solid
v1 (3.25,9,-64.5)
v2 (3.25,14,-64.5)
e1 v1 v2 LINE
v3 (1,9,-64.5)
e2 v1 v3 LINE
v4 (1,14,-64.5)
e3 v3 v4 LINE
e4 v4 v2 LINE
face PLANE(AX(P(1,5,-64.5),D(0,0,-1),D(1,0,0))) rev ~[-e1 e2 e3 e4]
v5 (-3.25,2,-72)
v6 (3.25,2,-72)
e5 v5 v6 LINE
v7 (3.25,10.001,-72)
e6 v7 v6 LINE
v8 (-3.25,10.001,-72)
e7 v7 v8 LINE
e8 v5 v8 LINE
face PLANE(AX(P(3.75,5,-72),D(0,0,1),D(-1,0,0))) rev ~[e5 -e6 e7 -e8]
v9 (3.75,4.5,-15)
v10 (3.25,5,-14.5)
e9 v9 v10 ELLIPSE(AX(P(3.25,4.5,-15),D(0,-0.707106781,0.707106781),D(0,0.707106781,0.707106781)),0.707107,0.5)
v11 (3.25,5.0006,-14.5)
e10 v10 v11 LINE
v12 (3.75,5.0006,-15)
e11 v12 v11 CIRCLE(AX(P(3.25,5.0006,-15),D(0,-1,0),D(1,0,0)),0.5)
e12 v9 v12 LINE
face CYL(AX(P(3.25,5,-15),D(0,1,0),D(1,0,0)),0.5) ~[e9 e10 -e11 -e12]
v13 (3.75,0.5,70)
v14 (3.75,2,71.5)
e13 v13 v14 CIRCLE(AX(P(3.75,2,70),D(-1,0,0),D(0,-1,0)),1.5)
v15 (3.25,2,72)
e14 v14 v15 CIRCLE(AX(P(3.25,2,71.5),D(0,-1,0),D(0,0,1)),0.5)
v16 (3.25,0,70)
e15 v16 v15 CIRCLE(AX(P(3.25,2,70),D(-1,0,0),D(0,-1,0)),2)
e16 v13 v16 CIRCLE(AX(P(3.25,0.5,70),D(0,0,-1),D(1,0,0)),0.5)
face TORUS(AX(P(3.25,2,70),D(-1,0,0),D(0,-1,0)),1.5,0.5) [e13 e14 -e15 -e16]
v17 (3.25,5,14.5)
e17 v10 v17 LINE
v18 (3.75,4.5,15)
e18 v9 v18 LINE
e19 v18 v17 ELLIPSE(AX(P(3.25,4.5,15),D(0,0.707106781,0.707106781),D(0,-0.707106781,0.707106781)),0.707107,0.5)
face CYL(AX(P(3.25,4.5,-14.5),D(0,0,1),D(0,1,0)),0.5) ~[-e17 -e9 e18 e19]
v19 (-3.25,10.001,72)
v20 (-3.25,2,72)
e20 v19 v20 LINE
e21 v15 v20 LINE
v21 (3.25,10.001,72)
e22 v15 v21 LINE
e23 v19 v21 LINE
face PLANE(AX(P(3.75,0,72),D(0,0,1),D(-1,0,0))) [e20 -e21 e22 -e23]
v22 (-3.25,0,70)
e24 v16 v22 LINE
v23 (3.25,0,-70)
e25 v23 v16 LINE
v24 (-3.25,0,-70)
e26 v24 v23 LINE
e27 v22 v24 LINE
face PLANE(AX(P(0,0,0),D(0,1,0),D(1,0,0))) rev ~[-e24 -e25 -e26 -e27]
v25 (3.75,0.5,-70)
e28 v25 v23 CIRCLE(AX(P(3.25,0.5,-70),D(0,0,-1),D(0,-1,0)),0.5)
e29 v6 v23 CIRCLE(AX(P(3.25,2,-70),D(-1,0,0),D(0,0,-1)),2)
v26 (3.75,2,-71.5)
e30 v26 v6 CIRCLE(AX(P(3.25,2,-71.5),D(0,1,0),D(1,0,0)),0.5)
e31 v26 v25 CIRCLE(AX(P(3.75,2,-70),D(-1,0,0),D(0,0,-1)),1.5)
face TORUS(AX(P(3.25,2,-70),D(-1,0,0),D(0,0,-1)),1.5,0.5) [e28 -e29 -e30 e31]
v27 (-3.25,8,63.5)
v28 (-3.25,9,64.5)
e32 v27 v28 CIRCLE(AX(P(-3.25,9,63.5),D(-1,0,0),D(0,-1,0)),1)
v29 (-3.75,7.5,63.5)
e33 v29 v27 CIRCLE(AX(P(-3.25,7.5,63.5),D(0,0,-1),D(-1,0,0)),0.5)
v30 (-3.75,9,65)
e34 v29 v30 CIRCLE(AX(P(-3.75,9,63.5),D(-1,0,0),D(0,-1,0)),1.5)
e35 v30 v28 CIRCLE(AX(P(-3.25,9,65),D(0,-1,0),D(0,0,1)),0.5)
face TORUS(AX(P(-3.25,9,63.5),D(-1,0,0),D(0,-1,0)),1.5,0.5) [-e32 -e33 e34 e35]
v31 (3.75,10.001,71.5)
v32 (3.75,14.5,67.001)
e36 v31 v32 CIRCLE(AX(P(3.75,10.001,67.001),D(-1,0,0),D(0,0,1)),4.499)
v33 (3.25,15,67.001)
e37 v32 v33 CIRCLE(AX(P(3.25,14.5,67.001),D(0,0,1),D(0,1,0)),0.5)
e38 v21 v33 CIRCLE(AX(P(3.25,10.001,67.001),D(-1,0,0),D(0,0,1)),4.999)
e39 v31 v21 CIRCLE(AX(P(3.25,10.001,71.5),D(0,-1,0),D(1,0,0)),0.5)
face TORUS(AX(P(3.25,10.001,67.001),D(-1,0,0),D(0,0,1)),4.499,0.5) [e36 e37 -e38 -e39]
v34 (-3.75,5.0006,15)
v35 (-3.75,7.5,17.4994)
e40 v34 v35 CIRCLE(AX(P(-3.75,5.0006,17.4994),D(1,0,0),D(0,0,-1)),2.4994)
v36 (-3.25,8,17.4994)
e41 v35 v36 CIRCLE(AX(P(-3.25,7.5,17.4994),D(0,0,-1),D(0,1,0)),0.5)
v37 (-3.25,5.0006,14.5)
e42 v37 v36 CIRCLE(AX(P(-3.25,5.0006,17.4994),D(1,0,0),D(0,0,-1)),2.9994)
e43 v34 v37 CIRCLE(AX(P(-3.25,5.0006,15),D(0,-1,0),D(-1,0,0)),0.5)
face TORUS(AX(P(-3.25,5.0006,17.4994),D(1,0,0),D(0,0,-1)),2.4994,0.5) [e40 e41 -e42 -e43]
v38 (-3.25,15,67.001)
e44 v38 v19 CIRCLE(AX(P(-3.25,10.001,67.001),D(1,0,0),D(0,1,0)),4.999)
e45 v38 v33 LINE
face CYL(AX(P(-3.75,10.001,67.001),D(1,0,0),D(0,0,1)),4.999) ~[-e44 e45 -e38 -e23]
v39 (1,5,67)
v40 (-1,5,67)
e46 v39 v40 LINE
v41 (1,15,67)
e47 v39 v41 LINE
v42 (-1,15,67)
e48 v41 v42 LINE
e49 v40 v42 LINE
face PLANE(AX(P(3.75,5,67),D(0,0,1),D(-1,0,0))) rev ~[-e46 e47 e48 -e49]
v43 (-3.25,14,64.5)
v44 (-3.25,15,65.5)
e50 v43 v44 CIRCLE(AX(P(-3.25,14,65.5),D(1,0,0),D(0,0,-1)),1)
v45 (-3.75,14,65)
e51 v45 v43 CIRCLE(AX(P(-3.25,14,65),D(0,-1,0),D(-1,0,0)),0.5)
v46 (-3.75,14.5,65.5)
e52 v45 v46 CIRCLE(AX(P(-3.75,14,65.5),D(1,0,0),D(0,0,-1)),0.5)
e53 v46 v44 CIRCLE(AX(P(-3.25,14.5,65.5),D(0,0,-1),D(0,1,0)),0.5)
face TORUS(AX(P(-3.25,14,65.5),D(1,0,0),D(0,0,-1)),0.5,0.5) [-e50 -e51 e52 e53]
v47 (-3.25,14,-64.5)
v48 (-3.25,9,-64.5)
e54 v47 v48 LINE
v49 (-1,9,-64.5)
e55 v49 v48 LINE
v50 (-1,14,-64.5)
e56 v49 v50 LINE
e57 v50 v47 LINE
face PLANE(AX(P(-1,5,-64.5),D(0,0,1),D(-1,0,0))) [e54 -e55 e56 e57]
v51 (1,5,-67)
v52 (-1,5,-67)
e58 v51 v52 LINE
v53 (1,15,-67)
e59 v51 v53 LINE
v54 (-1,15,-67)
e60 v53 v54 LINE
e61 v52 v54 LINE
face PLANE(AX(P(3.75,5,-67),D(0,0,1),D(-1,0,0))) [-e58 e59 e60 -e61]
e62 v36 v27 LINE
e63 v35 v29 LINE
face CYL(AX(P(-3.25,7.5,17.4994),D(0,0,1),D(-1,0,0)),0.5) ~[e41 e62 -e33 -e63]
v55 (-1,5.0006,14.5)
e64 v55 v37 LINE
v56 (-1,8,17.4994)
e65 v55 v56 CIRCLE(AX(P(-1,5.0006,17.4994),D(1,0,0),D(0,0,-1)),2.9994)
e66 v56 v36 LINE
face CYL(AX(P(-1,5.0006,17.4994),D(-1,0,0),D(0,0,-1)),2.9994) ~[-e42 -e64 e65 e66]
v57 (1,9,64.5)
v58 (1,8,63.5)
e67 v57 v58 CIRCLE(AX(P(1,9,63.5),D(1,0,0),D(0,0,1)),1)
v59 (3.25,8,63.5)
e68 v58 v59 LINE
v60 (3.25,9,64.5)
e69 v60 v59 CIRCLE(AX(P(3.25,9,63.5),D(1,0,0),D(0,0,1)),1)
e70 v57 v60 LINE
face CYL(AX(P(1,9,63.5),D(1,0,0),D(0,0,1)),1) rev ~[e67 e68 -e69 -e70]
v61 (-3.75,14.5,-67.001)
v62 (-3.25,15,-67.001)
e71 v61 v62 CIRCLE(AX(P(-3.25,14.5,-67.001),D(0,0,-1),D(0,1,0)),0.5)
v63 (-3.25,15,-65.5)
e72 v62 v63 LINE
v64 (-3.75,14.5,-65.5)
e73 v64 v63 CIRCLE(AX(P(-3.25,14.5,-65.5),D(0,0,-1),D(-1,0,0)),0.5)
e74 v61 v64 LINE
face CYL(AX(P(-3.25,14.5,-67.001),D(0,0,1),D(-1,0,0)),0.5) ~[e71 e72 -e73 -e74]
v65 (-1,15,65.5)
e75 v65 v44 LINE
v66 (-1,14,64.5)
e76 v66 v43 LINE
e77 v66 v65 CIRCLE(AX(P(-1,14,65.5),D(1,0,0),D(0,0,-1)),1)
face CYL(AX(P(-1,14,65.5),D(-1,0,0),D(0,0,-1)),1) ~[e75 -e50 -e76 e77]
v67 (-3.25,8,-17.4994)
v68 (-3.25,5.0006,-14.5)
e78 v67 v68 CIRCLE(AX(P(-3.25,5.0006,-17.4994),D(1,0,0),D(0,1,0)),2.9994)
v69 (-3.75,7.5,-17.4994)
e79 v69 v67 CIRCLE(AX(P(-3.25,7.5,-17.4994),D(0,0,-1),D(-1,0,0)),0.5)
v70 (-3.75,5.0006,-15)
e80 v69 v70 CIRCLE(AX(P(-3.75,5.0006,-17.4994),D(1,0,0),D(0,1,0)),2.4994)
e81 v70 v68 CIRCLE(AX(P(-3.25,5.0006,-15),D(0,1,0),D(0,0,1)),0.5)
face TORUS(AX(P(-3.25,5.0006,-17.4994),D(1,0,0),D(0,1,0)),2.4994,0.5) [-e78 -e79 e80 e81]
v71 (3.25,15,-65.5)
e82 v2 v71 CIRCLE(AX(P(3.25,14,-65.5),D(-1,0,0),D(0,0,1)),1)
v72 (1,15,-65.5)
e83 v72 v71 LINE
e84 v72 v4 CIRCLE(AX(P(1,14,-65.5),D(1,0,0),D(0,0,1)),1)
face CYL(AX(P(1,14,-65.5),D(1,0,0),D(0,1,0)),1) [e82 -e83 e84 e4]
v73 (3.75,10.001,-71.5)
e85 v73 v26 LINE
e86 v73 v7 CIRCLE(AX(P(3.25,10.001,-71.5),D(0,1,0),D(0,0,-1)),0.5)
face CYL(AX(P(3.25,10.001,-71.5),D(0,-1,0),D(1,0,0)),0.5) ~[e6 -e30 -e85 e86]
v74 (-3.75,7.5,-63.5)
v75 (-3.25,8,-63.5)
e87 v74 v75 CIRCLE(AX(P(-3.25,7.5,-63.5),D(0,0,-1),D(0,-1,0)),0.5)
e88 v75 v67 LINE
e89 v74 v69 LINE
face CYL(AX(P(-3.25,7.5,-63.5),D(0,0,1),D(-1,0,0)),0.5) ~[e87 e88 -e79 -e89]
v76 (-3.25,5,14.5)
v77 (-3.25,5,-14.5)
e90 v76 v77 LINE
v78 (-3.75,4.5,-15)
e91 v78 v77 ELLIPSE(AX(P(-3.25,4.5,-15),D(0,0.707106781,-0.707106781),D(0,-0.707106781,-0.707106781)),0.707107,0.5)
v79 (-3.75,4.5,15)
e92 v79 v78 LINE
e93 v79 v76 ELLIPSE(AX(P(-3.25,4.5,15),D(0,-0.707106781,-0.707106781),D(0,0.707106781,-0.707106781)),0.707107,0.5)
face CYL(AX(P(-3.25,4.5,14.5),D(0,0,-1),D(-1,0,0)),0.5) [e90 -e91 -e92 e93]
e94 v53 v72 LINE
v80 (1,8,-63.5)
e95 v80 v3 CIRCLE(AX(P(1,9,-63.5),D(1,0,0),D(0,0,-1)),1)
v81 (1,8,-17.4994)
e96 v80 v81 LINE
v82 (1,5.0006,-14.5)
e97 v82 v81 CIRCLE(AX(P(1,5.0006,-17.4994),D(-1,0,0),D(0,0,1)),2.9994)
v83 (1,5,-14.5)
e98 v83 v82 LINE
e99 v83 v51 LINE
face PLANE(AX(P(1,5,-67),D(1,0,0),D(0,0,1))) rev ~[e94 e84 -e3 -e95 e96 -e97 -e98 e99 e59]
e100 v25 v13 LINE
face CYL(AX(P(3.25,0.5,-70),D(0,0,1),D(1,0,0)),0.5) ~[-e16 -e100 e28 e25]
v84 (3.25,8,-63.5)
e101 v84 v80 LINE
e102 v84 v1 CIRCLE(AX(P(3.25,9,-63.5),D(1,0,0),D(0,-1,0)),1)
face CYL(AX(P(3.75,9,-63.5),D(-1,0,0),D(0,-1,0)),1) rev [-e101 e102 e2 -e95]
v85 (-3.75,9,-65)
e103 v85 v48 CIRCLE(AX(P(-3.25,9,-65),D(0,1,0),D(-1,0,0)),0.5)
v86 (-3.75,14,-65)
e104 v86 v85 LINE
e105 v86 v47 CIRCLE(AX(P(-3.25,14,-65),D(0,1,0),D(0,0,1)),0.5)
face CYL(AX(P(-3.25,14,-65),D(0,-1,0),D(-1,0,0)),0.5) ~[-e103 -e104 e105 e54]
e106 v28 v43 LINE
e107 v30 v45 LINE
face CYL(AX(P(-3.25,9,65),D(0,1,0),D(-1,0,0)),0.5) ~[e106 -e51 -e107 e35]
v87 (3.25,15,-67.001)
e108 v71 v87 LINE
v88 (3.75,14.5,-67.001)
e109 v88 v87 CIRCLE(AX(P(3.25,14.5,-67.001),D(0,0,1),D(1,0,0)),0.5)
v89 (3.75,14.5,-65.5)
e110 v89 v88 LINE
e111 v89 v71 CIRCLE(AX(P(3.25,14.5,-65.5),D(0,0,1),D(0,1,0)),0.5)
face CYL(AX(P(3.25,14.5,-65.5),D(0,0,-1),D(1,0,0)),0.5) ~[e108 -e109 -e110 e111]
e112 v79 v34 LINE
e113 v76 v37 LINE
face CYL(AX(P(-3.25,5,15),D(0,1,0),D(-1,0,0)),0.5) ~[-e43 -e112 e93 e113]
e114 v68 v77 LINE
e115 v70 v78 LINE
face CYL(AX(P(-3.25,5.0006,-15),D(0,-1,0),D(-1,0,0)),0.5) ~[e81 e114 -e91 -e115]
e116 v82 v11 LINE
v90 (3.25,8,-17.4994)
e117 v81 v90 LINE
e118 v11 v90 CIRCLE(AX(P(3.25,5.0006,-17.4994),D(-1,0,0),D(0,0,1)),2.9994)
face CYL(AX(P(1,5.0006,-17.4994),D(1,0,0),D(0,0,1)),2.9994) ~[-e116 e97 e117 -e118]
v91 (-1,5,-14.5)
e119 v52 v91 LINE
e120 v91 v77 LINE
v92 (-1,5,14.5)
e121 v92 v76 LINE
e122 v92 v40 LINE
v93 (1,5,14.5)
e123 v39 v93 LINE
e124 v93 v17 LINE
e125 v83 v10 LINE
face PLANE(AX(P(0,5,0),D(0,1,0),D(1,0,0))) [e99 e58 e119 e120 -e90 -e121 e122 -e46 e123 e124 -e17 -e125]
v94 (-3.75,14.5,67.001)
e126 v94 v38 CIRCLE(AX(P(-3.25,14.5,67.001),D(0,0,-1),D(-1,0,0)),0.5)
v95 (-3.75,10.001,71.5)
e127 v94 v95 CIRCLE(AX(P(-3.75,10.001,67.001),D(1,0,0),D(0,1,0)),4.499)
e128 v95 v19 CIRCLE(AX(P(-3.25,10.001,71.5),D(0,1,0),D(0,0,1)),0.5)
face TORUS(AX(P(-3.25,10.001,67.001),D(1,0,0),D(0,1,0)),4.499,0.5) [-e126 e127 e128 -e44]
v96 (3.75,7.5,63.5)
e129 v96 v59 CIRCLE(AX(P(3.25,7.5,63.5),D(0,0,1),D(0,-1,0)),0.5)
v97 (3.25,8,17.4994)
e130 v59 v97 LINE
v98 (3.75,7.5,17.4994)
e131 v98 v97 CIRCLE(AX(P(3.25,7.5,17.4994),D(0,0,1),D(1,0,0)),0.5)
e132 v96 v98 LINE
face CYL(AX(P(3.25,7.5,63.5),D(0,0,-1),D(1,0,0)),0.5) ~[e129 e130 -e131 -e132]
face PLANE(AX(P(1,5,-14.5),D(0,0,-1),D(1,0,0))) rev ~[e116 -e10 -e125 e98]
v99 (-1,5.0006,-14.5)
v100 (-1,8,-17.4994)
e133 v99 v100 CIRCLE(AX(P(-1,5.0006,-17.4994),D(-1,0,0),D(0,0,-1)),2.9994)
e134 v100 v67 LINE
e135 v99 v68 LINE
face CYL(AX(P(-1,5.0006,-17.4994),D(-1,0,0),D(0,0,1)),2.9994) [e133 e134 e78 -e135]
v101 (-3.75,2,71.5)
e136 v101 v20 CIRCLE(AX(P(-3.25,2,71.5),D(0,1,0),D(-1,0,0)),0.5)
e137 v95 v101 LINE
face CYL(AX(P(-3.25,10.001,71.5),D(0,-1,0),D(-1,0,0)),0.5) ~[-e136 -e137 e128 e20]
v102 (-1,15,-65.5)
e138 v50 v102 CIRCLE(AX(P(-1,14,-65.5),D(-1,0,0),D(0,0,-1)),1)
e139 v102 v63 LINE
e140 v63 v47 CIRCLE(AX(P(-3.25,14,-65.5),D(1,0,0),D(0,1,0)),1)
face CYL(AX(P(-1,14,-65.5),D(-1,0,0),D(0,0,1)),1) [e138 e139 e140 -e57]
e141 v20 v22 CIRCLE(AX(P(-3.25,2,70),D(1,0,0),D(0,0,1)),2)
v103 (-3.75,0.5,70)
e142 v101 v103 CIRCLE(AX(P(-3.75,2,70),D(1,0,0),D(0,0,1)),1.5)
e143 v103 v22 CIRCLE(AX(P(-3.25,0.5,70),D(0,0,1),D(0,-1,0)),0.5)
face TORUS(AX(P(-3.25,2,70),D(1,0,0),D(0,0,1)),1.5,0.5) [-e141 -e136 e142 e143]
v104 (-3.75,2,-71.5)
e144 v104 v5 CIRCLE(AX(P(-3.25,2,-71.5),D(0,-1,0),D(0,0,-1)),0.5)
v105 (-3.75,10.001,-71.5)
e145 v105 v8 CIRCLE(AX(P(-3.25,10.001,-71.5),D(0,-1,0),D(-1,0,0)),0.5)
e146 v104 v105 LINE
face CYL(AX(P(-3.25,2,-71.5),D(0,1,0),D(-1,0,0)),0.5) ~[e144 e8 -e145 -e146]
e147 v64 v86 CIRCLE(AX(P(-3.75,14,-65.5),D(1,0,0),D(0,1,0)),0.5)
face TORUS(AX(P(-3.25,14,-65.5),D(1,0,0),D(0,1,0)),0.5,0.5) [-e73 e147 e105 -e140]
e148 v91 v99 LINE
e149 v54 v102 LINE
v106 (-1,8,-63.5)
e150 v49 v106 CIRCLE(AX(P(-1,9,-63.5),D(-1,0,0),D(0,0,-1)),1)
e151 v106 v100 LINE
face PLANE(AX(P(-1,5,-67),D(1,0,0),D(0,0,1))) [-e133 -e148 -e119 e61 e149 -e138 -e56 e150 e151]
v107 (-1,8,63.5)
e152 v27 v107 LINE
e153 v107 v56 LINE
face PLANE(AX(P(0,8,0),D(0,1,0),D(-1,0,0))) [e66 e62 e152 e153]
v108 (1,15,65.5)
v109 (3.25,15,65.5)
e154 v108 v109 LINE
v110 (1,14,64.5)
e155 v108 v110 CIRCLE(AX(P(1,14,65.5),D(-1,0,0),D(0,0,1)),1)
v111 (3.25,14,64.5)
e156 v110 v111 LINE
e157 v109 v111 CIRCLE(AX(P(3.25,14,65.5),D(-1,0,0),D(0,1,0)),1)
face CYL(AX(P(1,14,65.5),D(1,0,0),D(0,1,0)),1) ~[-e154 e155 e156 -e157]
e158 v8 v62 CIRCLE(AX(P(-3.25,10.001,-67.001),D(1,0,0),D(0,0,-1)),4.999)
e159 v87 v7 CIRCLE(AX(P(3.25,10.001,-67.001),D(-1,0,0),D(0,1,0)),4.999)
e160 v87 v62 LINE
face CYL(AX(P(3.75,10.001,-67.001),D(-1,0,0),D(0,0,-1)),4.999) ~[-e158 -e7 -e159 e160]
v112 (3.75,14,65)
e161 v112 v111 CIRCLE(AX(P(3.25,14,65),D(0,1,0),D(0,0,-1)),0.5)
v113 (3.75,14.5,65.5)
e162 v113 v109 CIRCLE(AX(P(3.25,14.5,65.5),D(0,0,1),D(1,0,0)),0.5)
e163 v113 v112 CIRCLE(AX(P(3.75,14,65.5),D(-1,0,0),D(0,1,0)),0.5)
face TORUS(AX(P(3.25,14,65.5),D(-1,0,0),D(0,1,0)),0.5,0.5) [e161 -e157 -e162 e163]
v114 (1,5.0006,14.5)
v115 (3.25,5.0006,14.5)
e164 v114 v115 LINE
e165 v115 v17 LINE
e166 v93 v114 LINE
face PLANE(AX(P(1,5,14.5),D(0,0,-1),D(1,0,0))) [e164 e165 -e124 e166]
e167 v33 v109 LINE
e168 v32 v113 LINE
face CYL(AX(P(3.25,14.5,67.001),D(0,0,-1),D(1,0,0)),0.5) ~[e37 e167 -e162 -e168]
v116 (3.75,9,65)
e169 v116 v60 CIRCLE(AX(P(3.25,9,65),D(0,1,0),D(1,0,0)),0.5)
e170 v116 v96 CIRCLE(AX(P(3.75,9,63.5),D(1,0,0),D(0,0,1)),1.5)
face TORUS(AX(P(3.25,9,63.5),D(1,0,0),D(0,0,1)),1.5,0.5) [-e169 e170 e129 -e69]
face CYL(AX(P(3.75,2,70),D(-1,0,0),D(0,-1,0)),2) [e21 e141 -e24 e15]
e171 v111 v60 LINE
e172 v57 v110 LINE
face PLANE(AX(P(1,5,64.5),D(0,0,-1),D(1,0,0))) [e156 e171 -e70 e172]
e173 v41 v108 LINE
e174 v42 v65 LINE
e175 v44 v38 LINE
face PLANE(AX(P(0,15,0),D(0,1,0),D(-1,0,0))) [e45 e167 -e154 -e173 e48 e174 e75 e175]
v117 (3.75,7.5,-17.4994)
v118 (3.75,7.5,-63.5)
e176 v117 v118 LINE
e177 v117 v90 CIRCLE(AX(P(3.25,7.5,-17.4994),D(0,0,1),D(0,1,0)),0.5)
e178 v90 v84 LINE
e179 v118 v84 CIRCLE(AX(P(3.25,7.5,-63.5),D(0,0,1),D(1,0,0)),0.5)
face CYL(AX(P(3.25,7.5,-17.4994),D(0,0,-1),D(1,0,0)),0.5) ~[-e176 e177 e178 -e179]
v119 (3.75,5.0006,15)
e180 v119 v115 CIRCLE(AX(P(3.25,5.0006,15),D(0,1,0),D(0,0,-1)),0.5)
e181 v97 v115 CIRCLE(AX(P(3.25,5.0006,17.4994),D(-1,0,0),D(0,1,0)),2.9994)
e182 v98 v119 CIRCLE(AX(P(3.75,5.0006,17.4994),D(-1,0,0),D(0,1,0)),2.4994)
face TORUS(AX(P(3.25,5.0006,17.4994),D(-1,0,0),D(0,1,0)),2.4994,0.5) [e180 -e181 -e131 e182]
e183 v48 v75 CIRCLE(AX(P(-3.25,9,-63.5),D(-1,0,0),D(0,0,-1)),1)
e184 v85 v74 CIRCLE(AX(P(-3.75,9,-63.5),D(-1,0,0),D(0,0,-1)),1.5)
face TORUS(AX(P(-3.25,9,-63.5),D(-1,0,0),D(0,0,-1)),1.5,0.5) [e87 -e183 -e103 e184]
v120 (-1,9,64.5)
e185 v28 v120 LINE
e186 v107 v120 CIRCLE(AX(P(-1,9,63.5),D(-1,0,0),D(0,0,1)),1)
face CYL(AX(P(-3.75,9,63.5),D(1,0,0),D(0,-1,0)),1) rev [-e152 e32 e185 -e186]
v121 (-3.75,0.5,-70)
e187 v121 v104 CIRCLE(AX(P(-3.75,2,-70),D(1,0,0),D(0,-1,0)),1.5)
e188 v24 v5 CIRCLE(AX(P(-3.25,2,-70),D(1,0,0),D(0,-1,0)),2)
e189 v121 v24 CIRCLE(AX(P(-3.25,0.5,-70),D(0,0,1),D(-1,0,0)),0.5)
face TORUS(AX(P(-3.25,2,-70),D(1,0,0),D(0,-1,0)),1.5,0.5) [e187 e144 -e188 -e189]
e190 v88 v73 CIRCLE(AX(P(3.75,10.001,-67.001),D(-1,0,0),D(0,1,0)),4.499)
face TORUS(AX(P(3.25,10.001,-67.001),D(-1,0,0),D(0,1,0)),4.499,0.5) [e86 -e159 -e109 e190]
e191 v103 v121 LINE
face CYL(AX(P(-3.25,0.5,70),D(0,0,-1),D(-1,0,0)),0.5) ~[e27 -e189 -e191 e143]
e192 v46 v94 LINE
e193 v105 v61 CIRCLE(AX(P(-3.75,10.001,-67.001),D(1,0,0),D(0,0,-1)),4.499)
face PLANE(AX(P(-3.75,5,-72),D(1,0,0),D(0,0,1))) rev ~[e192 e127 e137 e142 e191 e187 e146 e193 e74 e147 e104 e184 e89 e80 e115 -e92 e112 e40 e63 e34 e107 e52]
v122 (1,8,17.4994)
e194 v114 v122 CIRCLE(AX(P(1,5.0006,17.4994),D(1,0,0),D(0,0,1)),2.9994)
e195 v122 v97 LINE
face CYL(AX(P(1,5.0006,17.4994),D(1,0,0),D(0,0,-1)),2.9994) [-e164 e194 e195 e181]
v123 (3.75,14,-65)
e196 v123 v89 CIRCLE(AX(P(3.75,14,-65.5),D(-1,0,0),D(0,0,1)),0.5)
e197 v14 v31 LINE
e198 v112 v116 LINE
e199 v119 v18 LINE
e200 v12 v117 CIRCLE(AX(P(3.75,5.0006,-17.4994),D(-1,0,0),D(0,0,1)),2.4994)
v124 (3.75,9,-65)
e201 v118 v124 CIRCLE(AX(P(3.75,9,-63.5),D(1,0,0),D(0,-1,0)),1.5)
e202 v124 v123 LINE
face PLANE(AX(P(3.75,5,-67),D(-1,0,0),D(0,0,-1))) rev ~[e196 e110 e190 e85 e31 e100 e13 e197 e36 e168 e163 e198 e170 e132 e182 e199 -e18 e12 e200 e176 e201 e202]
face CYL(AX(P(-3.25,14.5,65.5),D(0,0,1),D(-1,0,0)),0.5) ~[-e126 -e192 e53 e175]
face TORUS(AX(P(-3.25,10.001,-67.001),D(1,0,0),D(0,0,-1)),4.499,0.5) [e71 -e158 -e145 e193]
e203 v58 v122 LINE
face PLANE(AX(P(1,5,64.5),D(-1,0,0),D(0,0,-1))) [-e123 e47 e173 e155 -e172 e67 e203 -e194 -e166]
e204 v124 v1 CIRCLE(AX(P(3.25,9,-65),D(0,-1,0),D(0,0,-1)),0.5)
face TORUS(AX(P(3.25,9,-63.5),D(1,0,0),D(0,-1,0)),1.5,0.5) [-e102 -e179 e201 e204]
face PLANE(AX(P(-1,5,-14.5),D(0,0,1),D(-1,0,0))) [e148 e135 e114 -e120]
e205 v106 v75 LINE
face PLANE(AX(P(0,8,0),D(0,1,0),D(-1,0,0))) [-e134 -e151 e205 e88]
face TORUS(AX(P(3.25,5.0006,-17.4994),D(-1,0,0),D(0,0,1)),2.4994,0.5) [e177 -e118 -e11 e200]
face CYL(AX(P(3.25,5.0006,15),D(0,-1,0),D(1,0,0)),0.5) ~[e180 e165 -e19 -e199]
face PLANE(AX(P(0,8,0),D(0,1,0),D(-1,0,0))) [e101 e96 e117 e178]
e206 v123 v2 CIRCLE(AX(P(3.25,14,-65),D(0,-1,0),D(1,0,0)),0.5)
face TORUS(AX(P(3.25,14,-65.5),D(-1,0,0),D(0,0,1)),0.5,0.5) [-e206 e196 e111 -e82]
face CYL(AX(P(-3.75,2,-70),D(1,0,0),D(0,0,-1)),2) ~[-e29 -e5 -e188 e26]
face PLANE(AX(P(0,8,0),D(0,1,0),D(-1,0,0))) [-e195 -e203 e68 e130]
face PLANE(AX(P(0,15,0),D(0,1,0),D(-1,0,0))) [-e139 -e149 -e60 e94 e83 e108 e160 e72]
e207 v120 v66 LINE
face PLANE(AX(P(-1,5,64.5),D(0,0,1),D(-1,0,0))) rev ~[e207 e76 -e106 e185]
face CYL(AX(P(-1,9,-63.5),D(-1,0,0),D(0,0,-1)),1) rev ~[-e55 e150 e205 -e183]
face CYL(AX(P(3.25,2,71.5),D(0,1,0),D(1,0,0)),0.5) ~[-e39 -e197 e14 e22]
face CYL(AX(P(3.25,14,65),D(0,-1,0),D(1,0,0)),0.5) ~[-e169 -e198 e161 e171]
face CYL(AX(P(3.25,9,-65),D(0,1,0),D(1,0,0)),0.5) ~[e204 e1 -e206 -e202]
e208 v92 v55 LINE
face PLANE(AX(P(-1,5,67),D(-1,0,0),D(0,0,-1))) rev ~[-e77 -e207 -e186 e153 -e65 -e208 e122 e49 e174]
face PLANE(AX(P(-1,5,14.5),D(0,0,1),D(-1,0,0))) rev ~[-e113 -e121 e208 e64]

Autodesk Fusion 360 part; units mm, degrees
sketch "Sketch1" plane through (0, 0, 0) normal (0, 1, 0) x (1, 0, 0)
  line L0 (3.75, -72) -> (-3.75, -72)
  line L1 (-3.75, -72) -> (-3.75, 72)
  line L2 (-3.75, 72) -> (3.75, 72)
  line L3 (3.75, 72) -> (3.75, -72)
  line L4 (3.75, -72) -> (-3.75, 72) construction
  line L5 (-3.75, -72) -> (3.75, 72) construction
  dimension "d1" = 7.5
  dimension "d2" = 144
extrude "Extrude1" add sketch "Sketch1" along normal blind 5
sketch "Sketch2" plane through (0, 5, 0) normal (0, 1, 0) x (-1, 0, 0)
  line L0 (-3.75, -72) -> (3.75, -72)
  line L1 (3.75, -72) -> (3.75, 72)
  line L2 (3.75, 72) -> (-3.75, 72)
  line L3 (-3.75, 72) -> (-3.75, -72)
  line L4 (3.75, 72) -> (-3.75, 72)
  line L5 (-3.75, 72) -> (-3.75, 67)
  line L6 (-3.75, 67) -> (3.75, 67)
  line L7 (3.75, 67) -> (3.75, 72)
  dimension "d5" = 5
extrude "Extrude2" add sketch "Sketch2" along normal blind 10 contours L1 L2 L3 L4 L5 L6 L7
sketch "Sketch3" plane through (0, 5, 0) normal (0, 1, 0) x (-1, 0, 0)
  line L0 (3.75, 67) -> (-3.75, 67)
  line L1 (-3.75, 67) -> (-3.75, -72)
  line L2 (-3.75, -72) -> (3.75, -72)
  line L3 (3.75, -72) -> (3.75, 67)
  line L4 (3.75, -72) -> (-3.75, -72)
  line L5 (-3.75, -72) -> (-3.75, -67)
  line L6 (-3.75, -67) -> (3.75, -67)
  line L7 (3.75, -67) -> (3.75, -72)
  dimension "d8" = 5
extrude "Extrude3" add sketch "Sketch3" along normal blind 10 contours L1 L2 L3 L4 L5 L6 L7
fillet "Fillet1" radius 5 1 edges at (0, 15, 72)
fillet "Fillet2" radius 5 1 edges at (0, 15, -72)
sketch "Sketch6" plane through (0, 5, 0) normal (0, 1, 0) x (-1, 0, 0)
  line L0 (-3.75, -67) -> (3.75, -67)
  line L1 (3.75, -67) -> (3.75, 67)
  line L2 (3.75, 67) -> (-3.75, 67)
  line L3 (-3.75, 67) -> (-3.75, -67)
  line L4 (3.75, -67) -> (1, -67)
  line L5 (1, -67) -> (1, -64.5)
  line L6 (1, -64.5) -> (3.75, -64.5)
  line L7 (3.75, -64.5) -> (3.75, -67)
  line L8 (-3.75, -67) -> (-1, -67)
  line L9 (-1, -67) -> (-1, -64.5)
  line L10 (-1, -64.5) -> (-3.75, -64.5)
  line L11 (-3.75, -64.5) -> (-3.75, -67)
  dimension "d18" = 2.75
  dimension "d19" = 2.5
  dimension "d20" = 2.75
  dimension "d21" = 2.5
extrude "Extrude5" add sketch "Sketch6" along normal blind 10 contours L0 L3 L8 L9 L10 L11 | L0 L1 L4 L5 L6 L7
sketch "Sketch7" plane through (0, 5, 0) normal (0, 1, 0) x (-1, 0, 0)
  line L0 (1, -67) -> (1, -64.5)
  line L1 (1, -64.5) -> (3.75, -64.5)
  line L2 (3.75, -64.5) -> (3.75, 67)
  line L3 (3.75, 67) -> (-3.75, 67)
  line L4 (-3.75, 67) -> (-3.75, -64.5)
  line L5 (-3.75, -64.5) -> (-1, -64.5)
  line L6 (-1, -64.5) -> (-1, -67)
  line L7 (-1, -67) -> (1, -67)
  line L8 (-3.75, 67) -> (-1, 67)
  line L9 (-1, 67) -> (-1, 64.5)
  line L10 (-1, 64.5) -> (-3.75, 64.5)
  line L11 (-3.75, 64.5) -> (-3.75, 67)
  dimension "d24" = 2.75
  dimension "d25" = 2.5
sketch "Sketch8" plane through (0, 5, 0) normal (0, 1, 0) x (-1, 0, 0)
  line L0 (3.75, 67) -> (1, 67)
  line L1 (1, 67) -> (1, 64.5)
  line L2 (1, 64.5) -> (3.75, 64.5)
  line L3 (3.75, 64.5) -> (3.75, 67)
  point P0 (3.75, 67)
  dimension "d26" = 2.75
  dimension "d27" = 2.5
extrude "Extrude6" add sketch "Sketch8" sketch "Sketch7" along normal blind 10 of sketch 2 contours L3 L4 L8 L9 L10 L11
sketch "Sketch9" plane through (0, 5, 0) normal (0, 1, 0) x (-1, 0, 0)
  line L0 (-1, 67) -> (-1, 64.5)
  line L1 (-1, 64.5) -> (-3.75, 64.5)
  line L2 (-3.75, 64.5) -> (-3.75, -64.5)
  line L3 (-3.75, -64.5) -> (-1, -64.5)
  line L4 (-1, -64.5) -> (-1, -67)
  line L5 (-1, -67) -> (1, -67)
  line L6 (1, -67) -> (1, -64.5)
  line L7 (1, -64.5) -> (3.75, -64.5)
  line L8 (3.75, -64.5) -> (3.75, 64.5)
  line L9 (3.75, 64.5) -> (1, 64.5)
  line L10 (1, 64.5) -> (1, 67)
  line L11 (1, 67) -> (-1, 67)
  line L12 (-3.75, 64.5) -> (-1, 64.5)
  line L13 (-1, 64.5) -> (-1, 14.5)
  line L14 (-1, 14.5) -> (-3.75, 14.5)
  line L15 (-3.75, 14.5) -> (-3.75, 64.5)
  line L16 (3.75, 64.5) -> (1, 64.5)
  line L17 (1, 64.5) -> (1, 14.5)
  line L18 (1, 14.5) -> (3.75, 14.5)
  line L19 (3.75, 14.5) -> (3.75, 64.5)
  line L20 (3.75, -64.5) -> (1, -64.5)
  line L21 (1, -64.5) -> (1, -14.5)
  line L22 (1, -14.5) -> (3.75, -14.5)
  line L23 (3.75, -14.5) -> (3.75, -64.5)
  line L24 (-3.75, -64.5) -> (-1, -64.5)
  line L25 (-1, -64.5) -> (-1, -14.5)
  line L26 (-1, -14.5) -> (-3.75, -14.5)
  line L27 (-3.75, -14.5) -> (-3.75, -64.5)
  dimension "d30" = 2.75
  dimension "d31" = 50
  dimension "d32" = 2.75
  dimension "d33" = 50
  dimension "d34" = 2.75
  dimension "d35" = 50
  dimension "d36" = 2.75
  dimension "d37" = 50
extrude "Extrude7" add sketch "Sketch9" along normal blind 3 contours L1 L2 L12 L13 L14 L15 | L8 L9 L16 L17 L18 L19 | L2 L3 L24 L25 L26 L27 | L7 L8 L20 L21 L22 L23
fillet "Fillet3" radius 3 4 edges at (2.375, 8, -14.5) (-2.375, 8, -14.5) (-2.375, 8, 14.5) (2.375, 8, 14.5)
fillet "Fillet4" radius 1 4 edges at (-2.375, 15, 64.5) (2.375, 15, 64.5) (-2.375, 15, -64.5) (2.375, 15, -64.5)
fillet "Fillet5" radius 1 4 edges at (-2.375, 8, -64.5) (2.375, 8, -64.5) (2.375, 8, 64.5) (-2.375, 8, 64.5)
fillet "Fillet6" radius 2 1 edges at (0, 0, -72)
fillet "Fillet7" radius 2 1 edges at (0, 0, 72)
fillet "Fillet8" radius 0.5 20 edges at (-3.75, 7.1213, 15.3787) (-3.75, 8, 40.5) (-3.75, 8.2929, 64.2071) (-3.75, 11.5, 64.5) (-3.75, 14.7071, 64.7929) (-3.75, 15, 66.25) (-3.75, 13.5355, 70.5355) (-3.75, 6, 72) (-3.75, 0.5858, 71.4142) (-3.75, 0, 0) (-3.75, 0.5858, -71.4142) (-3.75, 6, -72) (-3.75, 13.5355, -70.5355) (-3.75, 15, -66.25) (-3.75, 14.7071, -64.7929) (-3.75, 11.5, -64.5) (-3.75, 8.2929, -64.2071) (-3.75, 8, -40.5) (-3.75, 7.1213, -15.3787) (-3.75, 5, 0)
fillet "Fillet9" radius 0.5 20 edges at (3.75, 7.1213, -15.3787) (3.75, 8, -40.5) (3.75, 8.2929, -64.2071) (3.75, 11.5, -64.5) (3.75, 14.7071, -64.7929) (3.75, 15, -66.25) (3.75, 13.5355, -70.5355) (3.75, 6, -72) (3.75, 0.5858, -71.4142) (3.75, 0, 0) (3.75, 0.5858, 71.4142) (3.75, 6, 72) (3.75, 13.5355, 70.5355) (3.75, 15, 66.25) (3.75, 14.7071, 64.7929) (3.75, 11.5, 64.5) (3.75, 8.2929, 64.2071) (3.75, 8, 40.5) (3.75, 7.1213, 15.3787) (3.75, 5, 0)
